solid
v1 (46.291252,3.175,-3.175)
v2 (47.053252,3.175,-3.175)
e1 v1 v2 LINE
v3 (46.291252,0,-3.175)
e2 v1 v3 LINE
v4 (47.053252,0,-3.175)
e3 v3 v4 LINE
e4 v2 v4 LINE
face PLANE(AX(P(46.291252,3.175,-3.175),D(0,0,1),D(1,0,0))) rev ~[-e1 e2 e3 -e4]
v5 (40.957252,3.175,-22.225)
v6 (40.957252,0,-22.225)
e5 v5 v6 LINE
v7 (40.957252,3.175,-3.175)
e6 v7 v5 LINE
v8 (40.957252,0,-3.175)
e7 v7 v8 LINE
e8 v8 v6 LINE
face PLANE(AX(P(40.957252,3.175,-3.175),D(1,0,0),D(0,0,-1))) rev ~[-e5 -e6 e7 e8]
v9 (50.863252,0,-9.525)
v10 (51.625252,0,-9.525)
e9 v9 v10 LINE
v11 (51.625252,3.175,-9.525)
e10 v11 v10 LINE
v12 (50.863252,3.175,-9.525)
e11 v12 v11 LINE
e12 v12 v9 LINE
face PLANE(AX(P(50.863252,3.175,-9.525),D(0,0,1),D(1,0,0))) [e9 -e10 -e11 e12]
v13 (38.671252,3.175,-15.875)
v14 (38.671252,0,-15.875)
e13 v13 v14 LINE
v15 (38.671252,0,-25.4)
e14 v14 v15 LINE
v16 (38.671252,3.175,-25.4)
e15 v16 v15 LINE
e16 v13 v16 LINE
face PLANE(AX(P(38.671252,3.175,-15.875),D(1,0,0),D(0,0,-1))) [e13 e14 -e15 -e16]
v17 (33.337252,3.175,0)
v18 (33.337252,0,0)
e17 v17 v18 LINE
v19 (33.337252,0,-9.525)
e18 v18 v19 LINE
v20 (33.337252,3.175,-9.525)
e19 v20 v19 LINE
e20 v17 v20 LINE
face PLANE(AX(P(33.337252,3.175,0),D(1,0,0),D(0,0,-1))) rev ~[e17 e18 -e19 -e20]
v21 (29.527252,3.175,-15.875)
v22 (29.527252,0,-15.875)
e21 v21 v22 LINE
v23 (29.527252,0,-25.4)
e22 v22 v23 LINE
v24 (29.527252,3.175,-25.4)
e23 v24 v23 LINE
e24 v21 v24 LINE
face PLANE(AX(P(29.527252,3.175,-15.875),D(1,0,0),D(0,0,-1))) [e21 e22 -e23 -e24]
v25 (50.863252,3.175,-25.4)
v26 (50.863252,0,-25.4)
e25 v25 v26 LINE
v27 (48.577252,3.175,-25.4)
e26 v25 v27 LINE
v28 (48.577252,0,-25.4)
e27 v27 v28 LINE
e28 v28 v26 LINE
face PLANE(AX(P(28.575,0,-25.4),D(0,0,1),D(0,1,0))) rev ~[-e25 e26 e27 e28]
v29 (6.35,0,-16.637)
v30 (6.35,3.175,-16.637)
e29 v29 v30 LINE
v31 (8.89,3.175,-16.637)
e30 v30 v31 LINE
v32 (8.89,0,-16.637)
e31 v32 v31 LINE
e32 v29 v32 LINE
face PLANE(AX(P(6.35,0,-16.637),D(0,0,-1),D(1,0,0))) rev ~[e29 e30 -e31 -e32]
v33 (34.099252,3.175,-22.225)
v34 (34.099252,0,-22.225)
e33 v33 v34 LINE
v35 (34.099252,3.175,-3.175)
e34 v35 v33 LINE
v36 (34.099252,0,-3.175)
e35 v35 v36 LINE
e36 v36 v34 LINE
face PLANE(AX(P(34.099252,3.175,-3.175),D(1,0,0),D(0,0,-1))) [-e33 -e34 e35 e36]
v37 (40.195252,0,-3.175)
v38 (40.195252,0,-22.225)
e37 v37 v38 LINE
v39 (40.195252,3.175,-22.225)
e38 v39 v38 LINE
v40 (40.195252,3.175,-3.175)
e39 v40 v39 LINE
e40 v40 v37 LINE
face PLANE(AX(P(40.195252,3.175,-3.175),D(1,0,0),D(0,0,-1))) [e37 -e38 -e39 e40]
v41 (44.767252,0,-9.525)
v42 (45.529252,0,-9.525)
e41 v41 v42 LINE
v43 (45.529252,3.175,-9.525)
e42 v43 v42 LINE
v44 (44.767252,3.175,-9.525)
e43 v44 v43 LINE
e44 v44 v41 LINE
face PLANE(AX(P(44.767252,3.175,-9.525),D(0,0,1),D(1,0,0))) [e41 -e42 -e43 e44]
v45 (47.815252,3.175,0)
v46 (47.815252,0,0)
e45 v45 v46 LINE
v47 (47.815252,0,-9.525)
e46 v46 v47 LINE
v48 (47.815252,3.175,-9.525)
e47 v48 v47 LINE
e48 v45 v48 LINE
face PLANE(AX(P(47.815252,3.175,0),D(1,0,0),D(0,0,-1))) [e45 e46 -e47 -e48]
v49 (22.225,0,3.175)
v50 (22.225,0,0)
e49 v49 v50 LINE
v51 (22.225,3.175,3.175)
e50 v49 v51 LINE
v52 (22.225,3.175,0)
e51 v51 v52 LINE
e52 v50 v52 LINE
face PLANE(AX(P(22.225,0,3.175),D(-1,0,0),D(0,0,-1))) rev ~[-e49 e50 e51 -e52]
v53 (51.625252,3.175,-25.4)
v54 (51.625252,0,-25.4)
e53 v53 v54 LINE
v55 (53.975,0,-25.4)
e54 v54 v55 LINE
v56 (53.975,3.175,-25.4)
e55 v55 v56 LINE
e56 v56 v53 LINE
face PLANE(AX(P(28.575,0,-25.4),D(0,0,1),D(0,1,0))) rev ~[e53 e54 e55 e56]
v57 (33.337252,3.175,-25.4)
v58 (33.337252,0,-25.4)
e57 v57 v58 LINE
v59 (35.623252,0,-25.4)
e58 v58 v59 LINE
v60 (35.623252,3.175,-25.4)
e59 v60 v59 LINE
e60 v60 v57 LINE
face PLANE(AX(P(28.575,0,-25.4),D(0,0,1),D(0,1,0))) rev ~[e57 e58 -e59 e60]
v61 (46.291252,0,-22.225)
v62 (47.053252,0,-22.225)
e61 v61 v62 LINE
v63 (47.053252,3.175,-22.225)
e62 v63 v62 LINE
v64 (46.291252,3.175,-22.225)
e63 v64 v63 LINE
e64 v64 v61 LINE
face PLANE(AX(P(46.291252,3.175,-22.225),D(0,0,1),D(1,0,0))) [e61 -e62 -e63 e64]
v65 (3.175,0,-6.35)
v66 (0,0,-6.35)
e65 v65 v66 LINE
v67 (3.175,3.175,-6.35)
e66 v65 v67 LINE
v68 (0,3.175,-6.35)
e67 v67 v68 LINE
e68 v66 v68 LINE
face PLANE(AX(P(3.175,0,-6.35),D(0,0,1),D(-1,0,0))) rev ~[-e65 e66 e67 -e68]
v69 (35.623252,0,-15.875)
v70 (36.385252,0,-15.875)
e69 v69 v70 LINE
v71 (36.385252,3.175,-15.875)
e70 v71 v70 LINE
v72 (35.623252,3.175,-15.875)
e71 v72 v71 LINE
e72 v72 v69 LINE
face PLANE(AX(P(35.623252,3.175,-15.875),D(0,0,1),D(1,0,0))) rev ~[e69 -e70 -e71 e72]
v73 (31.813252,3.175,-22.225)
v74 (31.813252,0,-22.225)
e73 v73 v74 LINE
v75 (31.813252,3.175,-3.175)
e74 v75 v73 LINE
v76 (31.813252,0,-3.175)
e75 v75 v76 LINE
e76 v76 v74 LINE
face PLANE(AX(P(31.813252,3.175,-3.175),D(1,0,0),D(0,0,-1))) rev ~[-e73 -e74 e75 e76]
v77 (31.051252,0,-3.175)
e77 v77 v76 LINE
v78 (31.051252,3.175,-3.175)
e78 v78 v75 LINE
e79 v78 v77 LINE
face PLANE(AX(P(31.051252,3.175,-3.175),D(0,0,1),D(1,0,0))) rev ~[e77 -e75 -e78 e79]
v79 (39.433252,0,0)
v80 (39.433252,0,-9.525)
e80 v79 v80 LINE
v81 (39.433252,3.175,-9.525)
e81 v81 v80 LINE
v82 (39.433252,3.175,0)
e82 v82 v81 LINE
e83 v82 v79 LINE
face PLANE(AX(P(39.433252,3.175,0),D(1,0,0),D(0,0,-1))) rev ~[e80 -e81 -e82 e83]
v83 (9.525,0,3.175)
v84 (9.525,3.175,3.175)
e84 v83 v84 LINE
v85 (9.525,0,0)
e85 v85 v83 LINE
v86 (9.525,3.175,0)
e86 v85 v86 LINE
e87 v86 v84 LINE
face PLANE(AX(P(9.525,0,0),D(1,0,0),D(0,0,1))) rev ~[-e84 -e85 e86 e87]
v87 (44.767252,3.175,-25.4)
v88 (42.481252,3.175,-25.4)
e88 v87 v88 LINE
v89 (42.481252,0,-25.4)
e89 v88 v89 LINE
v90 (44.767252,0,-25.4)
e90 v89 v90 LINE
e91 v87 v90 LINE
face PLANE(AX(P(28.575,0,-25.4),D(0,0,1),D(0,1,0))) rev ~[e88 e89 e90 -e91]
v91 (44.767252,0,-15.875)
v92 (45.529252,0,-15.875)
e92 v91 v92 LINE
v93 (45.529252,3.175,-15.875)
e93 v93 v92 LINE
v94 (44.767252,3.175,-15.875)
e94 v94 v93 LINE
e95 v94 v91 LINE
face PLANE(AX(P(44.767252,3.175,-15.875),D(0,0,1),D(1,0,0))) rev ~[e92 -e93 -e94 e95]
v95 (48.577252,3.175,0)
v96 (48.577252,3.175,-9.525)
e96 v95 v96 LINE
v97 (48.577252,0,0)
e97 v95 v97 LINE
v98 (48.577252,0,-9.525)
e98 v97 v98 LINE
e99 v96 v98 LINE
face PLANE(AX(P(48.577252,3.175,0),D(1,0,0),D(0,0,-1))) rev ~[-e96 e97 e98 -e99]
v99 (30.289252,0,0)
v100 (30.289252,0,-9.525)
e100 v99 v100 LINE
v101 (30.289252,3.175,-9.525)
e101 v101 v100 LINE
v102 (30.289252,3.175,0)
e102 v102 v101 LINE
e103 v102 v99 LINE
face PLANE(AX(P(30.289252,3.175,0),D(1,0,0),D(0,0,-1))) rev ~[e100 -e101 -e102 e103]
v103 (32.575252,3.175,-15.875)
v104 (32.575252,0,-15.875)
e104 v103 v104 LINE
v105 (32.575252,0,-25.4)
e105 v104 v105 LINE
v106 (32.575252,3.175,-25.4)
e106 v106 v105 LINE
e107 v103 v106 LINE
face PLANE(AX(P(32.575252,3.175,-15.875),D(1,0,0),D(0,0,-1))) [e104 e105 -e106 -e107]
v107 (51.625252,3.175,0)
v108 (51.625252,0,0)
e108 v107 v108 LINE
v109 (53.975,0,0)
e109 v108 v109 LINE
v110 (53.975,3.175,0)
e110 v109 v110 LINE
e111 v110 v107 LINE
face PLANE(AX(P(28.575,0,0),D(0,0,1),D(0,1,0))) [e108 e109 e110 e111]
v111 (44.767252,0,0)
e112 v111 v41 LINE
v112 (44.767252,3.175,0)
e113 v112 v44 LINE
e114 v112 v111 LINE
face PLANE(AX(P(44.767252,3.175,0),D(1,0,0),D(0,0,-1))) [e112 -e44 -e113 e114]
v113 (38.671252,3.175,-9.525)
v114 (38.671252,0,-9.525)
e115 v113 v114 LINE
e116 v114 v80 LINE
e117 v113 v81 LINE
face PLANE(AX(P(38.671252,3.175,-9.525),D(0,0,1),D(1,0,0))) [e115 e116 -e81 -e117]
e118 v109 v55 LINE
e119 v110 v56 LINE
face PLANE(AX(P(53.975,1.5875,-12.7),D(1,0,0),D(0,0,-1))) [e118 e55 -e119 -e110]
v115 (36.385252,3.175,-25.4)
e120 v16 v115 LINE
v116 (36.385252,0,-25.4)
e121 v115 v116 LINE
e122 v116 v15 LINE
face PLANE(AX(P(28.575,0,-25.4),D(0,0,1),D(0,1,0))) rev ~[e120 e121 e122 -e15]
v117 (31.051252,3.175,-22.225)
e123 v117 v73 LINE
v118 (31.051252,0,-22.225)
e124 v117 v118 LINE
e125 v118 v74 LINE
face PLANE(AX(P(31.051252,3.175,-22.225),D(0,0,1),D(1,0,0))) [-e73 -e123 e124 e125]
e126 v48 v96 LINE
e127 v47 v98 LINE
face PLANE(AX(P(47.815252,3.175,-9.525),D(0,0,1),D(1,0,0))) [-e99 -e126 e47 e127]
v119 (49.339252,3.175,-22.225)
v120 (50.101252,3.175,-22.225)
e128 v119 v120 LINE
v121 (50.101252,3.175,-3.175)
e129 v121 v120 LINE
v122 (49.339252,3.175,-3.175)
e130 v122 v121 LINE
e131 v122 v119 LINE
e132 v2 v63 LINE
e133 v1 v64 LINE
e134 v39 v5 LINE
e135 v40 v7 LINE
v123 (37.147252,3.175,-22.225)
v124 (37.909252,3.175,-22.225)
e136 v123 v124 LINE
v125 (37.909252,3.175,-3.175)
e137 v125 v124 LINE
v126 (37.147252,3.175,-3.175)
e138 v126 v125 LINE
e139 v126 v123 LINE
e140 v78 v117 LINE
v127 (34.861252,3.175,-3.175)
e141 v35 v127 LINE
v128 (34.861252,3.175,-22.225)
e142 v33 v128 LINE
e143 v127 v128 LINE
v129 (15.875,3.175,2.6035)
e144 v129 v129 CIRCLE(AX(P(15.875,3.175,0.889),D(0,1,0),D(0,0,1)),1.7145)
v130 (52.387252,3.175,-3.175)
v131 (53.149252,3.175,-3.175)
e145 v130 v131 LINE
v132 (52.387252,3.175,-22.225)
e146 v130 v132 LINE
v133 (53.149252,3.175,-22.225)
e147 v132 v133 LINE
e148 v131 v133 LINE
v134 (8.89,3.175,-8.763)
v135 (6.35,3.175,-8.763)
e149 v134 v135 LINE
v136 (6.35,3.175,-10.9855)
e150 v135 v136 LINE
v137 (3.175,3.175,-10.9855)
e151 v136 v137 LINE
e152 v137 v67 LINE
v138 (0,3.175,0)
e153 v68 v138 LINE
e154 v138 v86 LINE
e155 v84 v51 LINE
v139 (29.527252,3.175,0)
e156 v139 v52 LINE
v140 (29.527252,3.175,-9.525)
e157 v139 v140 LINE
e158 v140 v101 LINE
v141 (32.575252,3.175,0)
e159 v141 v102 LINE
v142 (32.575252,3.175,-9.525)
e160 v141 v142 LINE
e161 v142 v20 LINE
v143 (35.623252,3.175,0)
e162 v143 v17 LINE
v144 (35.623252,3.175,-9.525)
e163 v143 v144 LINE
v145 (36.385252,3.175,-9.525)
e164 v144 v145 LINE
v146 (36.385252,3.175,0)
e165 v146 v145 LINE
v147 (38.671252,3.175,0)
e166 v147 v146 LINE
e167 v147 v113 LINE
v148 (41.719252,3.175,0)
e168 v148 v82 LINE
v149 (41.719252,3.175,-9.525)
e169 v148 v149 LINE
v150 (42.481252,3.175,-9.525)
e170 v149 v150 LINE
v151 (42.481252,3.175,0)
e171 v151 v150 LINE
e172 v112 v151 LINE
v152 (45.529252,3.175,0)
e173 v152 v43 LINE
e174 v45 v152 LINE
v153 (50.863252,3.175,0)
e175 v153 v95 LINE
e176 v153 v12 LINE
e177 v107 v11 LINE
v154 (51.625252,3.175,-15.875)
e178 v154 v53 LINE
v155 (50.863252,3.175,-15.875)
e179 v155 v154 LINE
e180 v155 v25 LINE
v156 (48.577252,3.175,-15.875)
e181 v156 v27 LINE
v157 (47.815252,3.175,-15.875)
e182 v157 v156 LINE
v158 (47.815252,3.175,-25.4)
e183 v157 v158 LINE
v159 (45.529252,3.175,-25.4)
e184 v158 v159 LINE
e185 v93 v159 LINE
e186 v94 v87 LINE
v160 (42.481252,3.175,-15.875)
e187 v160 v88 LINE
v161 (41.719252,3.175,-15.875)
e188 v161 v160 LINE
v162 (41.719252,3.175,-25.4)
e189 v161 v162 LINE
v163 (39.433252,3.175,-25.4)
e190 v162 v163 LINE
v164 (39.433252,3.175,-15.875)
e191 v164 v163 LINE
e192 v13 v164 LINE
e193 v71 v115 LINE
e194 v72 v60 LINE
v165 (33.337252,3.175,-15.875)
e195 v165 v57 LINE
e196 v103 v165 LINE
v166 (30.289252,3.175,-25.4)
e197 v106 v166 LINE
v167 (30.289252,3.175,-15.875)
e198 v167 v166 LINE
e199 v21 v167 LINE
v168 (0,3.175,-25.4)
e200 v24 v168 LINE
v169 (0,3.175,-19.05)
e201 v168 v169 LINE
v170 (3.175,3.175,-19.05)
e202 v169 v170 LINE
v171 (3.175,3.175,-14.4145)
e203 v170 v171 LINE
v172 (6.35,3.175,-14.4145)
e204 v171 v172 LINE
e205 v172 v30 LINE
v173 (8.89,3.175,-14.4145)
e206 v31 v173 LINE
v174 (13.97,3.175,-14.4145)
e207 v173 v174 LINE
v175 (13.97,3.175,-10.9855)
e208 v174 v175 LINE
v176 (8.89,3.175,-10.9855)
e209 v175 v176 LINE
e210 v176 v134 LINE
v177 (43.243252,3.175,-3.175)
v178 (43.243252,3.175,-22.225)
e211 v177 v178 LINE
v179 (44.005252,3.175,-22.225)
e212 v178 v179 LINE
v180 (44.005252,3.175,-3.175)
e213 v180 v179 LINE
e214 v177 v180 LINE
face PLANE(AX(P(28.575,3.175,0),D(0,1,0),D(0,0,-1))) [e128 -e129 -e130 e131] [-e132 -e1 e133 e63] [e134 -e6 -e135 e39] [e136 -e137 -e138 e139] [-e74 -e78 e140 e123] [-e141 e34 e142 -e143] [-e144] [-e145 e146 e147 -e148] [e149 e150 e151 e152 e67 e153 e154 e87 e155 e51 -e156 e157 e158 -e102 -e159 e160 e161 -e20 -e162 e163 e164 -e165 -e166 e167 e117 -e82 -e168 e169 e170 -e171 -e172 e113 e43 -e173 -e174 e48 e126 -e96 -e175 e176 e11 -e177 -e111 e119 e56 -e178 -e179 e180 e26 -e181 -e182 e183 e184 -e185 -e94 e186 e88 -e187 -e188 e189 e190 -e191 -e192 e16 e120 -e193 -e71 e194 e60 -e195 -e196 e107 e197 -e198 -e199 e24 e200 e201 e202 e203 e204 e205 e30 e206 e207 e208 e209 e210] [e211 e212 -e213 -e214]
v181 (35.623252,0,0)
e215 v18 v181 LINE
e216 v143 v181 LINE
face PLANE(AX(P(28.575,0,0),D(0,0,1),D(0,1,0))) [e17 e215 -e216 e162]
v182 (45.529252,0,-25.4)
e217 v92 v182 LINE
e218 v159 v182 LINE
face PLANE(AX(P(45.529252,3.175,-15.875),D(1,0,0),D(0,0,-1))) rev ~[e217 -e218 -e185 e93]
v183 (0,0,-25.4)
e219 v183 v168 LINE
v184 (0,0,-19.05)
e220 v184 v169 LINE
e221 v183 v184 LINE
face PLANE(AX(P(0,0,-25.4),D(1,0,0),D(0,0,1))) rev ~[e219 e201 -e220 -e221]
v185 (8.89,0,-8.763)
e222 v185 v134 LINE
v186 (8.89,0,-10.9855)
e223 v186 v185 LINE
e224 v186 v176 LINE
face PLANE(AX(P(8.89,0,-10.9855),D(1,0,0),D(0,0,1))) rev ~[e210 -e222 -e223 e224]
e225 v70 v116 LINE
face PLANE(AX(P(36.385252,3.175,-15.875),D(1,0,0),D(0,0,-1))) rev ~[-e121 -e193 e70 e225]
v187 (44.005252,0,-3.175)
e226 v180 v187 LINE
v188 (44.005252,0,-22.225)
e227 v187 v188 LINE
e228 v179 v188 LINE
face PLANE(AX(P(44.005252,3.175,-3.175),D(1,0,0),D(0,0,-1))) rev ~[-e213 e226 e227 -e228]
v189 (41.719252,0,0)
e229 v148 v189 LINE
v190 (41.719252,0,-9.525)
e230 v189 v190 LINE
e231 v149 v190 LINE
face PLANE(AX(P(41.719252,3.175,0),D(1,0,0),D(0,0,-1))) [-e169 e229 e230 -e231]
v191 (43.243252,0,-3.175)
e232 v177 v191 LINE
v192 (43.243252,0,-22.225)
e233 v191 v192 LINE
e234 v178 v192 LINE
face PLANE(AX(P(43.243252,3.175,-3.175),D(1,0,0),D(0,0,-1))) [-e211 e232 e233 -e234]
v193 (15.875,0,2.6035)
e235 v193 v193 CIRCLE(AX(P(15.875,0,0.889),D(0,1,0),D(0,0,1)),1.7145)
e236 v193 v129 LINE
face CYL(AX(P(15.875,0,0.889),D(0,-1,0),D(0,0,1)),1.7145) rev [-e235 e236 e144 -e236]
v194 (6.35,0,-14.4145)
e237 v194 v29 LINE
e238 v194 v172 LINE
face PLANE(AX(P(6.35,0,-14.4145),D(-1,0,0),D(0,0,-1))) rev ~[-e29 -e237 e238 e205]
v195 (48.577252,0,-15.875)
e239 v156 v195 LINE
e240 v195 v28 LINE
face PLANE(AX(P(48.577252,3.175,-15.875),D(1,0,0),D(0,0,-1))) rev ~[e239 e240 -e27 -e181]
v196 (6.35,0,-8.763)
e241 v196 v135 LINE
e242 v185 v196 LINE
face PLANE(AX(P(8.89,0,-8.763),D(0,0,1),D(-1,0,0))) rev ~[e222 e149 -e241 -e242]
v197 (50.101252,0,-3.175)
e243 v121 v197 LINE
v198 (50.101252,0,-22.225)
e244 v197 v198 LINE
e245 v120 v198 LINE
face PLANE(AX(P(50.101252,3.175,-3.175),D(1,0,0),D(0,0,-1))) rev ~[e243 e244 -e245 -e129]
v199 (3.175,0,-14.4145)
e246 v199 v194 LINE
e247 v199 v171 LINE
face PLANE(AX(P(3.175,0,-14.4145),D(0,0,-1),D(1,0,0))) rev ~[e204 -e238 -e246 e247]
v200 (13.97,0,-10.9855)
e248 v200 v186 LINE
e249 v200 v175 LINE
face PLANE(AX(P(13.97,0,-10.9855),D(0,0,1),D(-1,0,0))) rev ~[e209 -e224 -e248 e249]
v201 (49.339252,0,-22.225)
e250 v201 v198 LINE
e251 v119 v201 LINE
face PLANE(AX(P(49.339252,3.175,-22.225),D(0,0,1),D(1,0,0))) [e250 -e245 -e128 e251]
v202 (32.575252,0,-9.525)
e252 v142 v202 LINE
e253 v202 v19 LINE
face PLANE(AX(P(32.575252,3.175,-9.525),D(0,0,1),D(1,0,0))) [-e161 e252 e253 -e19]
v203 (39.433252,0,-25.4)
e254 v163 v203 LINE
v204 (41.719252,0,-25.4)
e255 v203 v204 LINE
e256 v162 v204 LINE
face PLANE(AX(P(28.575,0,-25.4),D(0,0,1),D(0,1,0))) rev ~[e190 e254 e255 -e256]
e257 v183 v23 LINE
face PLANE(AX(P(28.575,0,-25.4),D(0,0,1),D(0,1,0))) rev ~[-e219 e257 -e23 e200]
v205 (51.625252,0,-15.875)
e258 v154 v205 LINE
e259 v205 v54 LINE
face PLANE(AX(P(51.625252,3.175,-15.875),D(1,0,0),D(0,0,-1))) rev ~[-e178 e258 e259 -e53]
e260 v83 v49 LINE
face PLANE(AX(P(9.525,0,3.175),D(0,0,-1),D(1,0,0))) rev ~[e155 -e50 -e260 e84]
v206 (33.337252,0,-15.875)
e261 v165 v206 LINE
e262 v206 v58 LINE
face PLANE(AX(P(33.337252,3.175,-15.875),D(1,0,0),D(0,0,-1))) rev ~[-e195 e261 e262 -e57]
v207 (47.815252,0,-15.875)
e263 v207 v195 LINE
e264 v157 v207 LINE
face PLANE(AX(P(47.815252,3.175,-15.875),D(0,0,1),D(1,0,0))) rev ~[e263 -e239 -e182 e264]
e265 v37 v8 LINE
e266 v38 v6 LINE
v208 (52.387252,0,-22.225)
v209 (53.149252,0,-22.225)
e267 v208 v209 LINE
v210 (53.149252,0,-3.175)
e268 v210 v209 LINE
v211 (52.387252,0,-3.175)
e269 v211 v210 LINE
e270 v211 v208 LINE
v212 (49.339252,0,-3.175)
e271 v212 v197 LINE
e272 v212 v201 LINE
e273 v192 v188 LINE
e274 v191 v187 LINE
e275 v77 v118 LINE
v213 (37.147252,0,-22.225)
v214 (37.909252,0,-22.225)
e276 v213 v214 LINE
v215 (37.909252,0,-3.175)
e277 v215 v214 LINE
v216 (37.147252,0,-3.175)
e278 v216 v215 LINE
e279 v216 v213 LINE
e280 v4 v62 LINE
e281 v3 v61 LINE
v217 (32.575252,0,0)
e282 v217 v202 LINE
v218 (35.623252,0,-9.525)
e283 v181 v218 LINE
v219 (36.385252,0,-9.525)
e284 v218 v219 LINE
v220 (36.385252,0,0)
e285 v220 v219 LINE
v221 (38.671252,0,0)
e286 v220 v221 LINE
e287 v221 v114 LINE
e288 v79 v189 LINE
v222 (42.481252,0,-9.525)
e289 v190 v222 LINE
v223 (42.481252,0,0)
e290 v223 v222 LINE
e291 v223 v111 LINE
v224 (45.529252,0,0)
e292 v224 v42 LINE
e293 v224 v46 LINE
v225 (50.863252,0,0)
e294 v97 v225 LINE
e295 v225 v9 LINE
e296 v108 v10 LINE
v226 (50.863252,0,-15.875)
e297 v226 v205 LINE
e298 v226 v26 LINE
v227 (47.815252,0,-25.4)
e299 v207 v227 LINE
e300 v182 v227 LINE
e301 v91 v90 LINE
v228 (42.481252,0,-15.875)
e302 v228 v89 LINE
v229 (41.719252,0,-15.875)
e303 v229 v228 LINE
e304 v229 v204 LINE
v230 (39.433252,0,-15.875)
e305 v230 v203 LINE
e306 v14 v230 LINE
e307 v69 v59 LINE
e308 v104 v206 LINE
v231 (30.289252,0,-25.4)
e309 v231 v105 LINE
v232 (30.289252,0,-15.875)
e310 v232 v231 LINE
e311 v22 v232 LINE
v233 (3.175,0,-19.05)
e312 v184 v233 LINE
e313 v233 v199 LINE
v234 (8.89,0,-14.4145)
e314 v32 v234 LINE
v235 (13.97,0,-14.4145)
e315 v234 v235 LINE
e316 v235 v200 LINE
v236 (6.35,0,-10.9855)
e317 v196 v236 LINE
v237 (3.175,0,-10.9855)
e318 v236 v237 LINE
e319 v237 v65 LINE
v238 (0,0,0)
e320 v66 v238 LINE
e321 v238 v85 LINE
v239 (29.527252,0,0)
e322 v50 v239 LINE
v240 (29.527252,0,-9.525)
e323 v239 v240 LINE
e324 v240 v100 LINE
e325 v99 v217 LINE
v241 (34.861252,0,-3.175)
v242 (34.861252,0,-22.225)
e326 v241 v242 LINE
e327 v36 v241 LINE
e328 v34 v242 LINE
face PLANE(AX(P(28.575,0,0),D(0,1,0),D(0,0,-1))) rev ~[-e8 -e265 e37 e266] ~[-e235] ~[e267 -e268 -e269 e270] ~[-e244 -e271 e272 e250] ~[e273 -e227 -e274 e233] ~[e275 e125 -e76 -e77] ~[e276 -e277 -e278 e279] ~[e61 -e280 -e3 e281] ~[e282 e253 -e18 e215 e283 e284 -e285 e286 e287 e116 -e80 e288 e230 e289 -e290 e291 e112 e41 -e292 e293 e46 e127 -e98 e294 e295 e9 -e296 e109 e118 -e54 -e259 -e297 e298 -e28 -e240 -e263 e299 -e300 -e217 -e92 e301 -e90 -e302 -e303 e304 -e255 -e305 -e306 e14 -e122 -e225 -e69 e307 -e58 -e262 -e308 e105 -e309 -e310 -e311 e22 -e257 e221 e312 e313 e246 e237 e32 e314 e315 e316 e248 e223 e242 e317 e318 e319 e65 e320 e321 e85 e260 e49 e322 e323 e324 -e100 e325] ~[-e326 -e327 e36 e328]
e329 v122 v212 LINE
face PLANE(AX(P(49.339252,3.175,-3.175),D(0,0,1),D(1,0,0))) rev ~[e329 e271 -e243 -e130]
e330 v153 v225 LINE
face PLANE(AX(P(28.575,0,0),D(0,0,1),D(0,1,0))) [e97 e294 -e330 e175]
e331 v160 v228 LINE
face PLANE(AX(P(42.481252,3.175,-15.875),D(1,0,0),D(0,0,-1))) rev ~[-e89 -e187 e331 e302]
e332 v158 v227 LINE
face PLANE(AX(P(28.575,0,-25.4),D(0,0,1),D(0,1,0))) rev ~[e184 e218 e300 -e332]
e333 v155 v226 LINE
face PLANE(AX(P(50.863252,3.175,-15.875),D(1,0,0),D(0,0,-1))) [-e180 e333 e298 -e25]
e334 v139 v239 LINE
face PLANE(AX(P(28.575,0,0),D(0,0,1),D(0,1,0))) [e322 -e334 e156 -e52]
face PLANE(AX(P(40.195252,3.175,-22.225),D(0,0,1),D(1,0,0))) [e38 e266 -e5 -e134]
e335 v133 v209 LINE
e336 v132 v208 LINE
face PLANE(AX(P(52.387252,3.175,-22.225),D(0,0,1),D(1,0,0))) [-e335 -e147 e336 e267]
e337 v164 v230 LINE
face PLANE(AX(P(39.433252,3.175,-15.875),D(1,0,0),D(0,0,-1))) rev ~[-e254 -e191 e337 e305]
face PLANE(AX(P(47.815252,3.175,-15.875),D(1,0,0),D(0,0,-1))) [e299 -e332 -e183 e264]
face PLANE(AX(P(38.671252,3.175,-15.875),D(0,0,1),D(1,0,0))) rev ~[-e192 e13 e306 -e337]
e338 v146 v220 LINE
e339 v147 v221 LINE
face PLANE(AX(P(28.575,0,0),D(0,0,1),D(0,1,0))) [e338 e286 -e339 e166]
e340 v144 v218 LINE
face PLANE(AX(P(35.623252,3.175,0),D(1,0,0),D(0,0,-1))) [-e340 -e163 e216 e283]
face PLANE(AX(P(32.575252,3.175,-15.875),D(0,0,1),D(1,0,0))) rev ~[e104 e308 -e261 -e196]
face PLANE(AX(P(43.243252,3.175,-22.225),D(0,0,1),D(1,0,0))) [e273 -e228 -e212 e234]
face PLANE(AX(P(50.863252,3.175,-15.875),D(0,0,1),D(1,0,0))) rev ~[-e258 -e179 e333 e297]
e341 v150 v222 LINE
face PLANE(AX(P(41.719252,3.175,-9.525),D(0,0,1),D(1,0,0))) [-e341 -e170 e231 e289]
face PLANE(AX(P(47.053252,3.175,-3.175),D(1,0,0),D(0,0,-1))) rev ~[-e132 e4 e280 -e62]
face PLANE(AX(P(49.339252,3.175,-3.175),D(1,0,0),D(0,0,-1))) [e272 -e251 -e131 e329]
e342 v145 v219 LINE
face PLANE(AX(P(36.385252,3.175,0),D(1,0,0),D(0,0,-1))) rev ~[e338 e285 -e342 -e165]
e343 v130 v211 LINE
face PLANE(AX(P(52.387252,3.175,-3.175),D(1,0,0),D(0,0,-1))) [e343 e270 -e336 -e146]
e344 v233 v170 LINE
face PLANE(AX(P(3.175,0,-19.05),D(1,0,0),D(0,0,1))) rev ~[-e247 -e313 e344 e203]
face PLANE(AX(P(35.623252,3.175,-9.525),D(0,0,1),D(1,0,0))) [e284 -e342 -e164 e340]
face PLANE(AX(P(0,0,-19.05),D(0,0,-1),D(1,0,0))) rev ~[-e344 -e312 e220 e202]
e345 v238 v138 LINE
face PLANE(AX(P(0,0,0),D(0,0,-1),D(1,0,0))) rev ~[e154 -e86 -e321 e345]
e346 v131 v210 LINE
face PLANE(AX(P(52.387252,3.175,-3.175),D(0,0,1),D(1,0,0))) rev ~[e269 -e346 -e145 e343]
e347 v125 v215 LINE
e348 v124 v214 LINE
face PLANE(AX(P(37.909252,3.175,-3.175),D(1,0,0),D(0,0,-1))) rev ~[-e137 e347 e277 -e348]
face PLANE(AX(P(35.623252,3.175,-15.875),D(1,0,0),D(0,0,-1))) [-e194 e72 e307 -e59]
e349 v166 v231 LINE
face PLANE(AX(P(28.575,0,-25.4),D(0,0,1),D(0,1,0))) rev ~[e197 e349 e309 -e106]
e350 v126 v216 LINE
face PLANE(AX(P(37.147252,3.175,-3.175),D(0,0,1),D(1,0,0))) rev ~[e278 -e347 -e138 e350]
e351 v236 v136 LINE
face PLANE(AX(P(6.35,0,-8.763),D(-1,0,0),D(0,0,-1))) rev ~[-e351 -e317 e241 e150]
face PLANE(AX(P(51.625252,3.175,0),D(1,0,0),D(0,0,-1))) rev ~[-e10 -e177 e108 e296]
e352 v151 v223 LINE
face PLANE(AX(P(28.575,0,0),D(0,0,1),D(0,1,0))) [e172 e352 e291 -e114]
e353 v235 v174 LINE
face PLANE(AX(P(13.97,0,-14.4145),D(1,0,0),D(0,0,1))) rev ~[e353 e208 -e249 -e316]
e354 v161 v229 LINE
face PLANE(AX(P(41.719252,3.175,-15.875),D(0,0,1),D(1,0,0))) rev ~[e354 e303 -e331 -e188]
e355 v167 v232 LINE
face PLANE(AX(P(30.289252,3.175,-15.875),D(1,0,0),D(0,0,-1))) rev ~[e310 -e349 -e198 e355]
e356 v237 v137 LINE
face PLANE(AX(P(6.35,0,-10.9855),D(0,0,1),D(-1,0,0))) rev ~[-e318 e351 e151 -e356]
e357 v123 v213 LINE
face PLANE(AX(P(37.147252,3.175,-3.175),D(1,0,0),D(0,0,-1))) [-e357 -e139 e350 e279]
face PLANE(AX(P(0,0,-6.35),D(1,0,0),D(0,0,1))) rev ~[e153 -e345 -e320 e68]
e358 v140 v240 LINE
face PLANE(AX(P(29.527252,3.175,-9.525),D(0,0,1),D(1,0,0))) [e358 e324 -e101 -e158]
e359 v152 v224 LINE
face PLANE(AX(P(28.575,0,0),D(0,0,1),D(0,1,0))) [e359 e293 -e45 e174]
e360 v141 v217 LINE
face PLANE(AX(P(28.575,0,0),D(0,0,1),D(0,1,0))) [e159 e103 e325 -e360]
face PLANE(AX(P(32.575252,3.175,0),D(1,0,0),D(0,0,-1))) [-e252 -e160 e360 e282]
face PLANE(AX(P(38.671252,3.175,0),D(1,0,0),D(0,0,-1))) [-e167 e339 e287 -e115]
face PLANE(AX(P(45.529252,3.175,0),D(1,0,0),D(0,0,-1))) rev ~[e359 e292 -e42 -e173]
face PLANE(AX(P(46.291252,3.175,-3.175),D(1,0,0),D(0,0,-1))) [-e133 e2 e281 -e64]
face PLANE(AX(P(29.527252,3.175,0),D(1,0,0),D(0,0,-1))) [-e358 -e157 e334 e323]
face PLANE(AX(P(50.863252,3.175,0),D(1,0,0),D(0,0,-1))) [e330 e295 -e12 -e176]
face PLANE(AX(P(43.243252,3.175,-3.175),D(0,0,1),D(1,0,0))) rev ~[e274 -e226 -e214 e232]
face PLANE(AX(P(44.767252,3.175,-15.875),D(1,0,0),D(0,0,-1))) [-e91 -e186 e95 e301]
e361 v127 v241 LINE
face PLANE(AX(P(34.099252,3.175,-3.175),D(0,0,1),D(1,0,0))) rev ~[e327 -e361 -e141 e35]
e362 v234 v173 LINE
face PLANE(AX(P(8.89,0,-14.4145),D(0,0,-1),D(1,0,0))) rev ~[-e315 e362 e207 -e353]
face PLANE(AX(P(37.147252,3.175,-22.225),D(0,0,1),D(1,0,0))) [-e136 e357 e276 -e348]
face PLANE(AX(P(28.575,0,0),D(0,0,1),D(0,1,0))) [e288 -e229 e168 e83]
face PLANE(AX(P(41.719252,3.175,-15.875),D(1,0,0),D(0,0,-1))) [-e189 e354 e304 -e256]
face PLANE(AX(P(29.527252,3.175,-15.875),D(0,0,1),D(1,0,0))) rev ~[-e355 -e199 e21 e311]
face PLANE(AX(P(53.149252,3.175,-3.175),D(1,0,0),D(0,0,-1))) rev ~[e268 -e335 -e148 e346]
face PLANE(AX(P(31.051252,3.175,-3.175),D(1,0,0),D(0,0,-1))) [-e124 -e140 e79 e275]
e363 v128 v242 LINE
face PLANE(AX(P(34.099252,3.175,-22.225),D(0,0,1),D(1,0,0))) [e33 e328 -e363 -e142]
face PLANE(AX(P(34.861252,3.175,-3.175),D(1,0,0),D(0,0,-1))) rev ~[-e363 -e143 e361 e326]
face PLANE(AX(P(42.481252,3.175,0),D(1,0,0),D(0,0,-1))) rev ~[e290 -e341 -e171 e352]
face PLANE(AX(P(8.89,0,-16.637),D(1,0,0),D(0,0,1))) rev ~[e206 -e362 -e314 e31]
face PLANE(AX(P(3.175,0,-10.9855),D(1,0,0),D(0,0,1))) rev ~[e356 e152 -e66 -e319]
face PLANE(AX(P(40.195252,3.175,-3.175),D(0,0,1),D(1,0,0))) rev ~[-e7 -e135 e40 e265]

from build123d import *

# Parameters (mm, degrees)
SKETCH1_R           = 1.7145
BOSS_EXTRUDE1_DEPTH = 3.175
SKETCH3_W           = 25.4
SKETCH3_H           = 3.175
BOSS_EXTRUDE2_DEPTH = 25.4
SKETCH4_W           = 0.762
SKETCH4_H           = 9.525
SKETCH4_H_2         = 19.05
CUT_EXTRUDE2_DEPTH  = 60.737268518


with BuildPart() as part:
    # Sketch1 → Boss-Extrude1 (new body)
    with BuildSketch(Plane(origin=(0, 0, 0), x_dir=(1, 0, 0), z_dir=(0, 1, 0))):
        Polygon((0, 19.05), (3.175, 19.05), (3.175, 14.4145), (6.35, 14.4145), (6.35, 16.637), (8.89, 16.637), (8.89, 14.4145), (13.97, 14.4145), (13.97, 10.9855), (8.89, 10.9855), (8.89, 8.763), (6.35, 8.763), (6.35, 10.9855), (3.175, 10.9855), (3.175, 6.35), (0, 6.35), (0, 0), (9.525, 0), (9.525, -3.175), (22.225, -3.175), (22.225, 0), (28.575, 0), (28.575, 25.4), (0, 25.4), align=None)
        with Locations(Location((15.875, -0.889, 0), (0, 0, 270))):
            Circle(SKETCH1_R, mode=Mode.SUBTRACT)
    extrude(amount=BOSS_EXTRUDE1_DEPTH)

    # Sketch3 → Boss-Extrude2 (add)
    with BuildSketch(Plane(origin=(28.575, 0, 0), x_dir=(0, 0, -1), z_dir=(1, 0, 0))):
        with Locations((12.7, 1.5875)):
            Rectangle(SKETCH3_W, SKETCH3_H)
    extrude(amount=BOSS_EXTRUDE2_DEPTH)

    # Sketch4 → Cut-Extrude2 (cut, through all)
    with BuildSketch(Plane(origin=(0, 3.175, 0), x_dir=(1, 0, 0), z_dir=(0, 1, 0))):
        with Locations((29.908251949, 4.7625)):
            Rectangle(SKETCH4_W, SKETCH4_H)
        with Locations((31.432251949, 12.7)):
            Rectangle(SKETCH4_W, SKETCH4_H_2)
        with Locations((29.908251949, 20.6375)):
            Rectangle(SKETCH4_W, SKETCH4_H)
        with Locations((32.956251949, 4.7625)):
            Rectangle(SKETCH4_W, SKETCH4_H)
        with Locations((34.480251949, 12.7)):
            Rectangle(SKETCH4_W, SKETCH4_H_2)
        with Locations((32.956251949, 20.6375)):
            Rectangle(SKETCH4_W, SKETCH4_H)
        with Locations((36.004251949, 4.7625)):
            Rectangle(SKETCH4_W, SKETCH4_H)
        with Locations((37.528251949, 12.7)):
            Rectangle(SKETCH4_W, SKETCH4_H_2)
        with Locations((36.004251949, 20.6375)):
            Rectangle(SKETCH4_W, SKETCH4_H)
        with Locations((39.052251949, 4.7625)):
            Rectangle(SKETCH4_W, SKETCH4_H)
        with Locations((40.576251949, 12.7)):
            Rectangle(SKETCH4_W, SKETCH4_H_2)
        with Locations((39.052251949, 20.6375)):
            Rectangle(SKETCH4_W, SKETCH4_H)
        with Locations((42.100251949, 4.7625)):
            Rectangle(SKETCH4_W, SKETCH4_H)
        with Locations((43.624251949, 12.7)):
            Rectangle(SKETCH4_W, SKETCH4_H_2)
        with Locations((42.100251949, 20.6375)):
            Rectangle(SKETCH4_W, SKETCH4_H)
        with Locations((45.148251949, 4.7625)):
            Rectangle(SKETCH4_W, SKETCH4_H)
        with Locations((46.672251949, 12.7)):
            Rectangle(SKETCH4_W, SKETCH4_H_2)
        with Locations((45.148251949, 20.6375)):
            Rectangle(SKETCH4_W, SKETCH4_H)
        with Locations((48.196251949, 4.7625)):
            Rectangle(SKETCH4_W, SKETCH4_H)
        with Locations((49.720251949, 12.7)):
            Rectangle(SKETCH4_W, SKETCH4_H_2)
        with Locations((48.196251949, 20.6375)):
            Rectangle(SKETCH4_W, SKETCH4_H)
        with Locations((51.244251949, 4.7625)):
            Rectangle(SKETCH4_W, SKETCH4_H)
        with Locations((52.768251949, 12.7)):
            Rectangle(SKETCH4_W, SKETCH4_H_2)
        with Locations((51.244251949, 20.6375)):
            Rectangle(SKETCH4_W, SKETCH4_H)
    extrude(amount=-CUT_EXTRUDE2_DEPTH, mode=Mode.SUBTRACT)


solid = part.part
